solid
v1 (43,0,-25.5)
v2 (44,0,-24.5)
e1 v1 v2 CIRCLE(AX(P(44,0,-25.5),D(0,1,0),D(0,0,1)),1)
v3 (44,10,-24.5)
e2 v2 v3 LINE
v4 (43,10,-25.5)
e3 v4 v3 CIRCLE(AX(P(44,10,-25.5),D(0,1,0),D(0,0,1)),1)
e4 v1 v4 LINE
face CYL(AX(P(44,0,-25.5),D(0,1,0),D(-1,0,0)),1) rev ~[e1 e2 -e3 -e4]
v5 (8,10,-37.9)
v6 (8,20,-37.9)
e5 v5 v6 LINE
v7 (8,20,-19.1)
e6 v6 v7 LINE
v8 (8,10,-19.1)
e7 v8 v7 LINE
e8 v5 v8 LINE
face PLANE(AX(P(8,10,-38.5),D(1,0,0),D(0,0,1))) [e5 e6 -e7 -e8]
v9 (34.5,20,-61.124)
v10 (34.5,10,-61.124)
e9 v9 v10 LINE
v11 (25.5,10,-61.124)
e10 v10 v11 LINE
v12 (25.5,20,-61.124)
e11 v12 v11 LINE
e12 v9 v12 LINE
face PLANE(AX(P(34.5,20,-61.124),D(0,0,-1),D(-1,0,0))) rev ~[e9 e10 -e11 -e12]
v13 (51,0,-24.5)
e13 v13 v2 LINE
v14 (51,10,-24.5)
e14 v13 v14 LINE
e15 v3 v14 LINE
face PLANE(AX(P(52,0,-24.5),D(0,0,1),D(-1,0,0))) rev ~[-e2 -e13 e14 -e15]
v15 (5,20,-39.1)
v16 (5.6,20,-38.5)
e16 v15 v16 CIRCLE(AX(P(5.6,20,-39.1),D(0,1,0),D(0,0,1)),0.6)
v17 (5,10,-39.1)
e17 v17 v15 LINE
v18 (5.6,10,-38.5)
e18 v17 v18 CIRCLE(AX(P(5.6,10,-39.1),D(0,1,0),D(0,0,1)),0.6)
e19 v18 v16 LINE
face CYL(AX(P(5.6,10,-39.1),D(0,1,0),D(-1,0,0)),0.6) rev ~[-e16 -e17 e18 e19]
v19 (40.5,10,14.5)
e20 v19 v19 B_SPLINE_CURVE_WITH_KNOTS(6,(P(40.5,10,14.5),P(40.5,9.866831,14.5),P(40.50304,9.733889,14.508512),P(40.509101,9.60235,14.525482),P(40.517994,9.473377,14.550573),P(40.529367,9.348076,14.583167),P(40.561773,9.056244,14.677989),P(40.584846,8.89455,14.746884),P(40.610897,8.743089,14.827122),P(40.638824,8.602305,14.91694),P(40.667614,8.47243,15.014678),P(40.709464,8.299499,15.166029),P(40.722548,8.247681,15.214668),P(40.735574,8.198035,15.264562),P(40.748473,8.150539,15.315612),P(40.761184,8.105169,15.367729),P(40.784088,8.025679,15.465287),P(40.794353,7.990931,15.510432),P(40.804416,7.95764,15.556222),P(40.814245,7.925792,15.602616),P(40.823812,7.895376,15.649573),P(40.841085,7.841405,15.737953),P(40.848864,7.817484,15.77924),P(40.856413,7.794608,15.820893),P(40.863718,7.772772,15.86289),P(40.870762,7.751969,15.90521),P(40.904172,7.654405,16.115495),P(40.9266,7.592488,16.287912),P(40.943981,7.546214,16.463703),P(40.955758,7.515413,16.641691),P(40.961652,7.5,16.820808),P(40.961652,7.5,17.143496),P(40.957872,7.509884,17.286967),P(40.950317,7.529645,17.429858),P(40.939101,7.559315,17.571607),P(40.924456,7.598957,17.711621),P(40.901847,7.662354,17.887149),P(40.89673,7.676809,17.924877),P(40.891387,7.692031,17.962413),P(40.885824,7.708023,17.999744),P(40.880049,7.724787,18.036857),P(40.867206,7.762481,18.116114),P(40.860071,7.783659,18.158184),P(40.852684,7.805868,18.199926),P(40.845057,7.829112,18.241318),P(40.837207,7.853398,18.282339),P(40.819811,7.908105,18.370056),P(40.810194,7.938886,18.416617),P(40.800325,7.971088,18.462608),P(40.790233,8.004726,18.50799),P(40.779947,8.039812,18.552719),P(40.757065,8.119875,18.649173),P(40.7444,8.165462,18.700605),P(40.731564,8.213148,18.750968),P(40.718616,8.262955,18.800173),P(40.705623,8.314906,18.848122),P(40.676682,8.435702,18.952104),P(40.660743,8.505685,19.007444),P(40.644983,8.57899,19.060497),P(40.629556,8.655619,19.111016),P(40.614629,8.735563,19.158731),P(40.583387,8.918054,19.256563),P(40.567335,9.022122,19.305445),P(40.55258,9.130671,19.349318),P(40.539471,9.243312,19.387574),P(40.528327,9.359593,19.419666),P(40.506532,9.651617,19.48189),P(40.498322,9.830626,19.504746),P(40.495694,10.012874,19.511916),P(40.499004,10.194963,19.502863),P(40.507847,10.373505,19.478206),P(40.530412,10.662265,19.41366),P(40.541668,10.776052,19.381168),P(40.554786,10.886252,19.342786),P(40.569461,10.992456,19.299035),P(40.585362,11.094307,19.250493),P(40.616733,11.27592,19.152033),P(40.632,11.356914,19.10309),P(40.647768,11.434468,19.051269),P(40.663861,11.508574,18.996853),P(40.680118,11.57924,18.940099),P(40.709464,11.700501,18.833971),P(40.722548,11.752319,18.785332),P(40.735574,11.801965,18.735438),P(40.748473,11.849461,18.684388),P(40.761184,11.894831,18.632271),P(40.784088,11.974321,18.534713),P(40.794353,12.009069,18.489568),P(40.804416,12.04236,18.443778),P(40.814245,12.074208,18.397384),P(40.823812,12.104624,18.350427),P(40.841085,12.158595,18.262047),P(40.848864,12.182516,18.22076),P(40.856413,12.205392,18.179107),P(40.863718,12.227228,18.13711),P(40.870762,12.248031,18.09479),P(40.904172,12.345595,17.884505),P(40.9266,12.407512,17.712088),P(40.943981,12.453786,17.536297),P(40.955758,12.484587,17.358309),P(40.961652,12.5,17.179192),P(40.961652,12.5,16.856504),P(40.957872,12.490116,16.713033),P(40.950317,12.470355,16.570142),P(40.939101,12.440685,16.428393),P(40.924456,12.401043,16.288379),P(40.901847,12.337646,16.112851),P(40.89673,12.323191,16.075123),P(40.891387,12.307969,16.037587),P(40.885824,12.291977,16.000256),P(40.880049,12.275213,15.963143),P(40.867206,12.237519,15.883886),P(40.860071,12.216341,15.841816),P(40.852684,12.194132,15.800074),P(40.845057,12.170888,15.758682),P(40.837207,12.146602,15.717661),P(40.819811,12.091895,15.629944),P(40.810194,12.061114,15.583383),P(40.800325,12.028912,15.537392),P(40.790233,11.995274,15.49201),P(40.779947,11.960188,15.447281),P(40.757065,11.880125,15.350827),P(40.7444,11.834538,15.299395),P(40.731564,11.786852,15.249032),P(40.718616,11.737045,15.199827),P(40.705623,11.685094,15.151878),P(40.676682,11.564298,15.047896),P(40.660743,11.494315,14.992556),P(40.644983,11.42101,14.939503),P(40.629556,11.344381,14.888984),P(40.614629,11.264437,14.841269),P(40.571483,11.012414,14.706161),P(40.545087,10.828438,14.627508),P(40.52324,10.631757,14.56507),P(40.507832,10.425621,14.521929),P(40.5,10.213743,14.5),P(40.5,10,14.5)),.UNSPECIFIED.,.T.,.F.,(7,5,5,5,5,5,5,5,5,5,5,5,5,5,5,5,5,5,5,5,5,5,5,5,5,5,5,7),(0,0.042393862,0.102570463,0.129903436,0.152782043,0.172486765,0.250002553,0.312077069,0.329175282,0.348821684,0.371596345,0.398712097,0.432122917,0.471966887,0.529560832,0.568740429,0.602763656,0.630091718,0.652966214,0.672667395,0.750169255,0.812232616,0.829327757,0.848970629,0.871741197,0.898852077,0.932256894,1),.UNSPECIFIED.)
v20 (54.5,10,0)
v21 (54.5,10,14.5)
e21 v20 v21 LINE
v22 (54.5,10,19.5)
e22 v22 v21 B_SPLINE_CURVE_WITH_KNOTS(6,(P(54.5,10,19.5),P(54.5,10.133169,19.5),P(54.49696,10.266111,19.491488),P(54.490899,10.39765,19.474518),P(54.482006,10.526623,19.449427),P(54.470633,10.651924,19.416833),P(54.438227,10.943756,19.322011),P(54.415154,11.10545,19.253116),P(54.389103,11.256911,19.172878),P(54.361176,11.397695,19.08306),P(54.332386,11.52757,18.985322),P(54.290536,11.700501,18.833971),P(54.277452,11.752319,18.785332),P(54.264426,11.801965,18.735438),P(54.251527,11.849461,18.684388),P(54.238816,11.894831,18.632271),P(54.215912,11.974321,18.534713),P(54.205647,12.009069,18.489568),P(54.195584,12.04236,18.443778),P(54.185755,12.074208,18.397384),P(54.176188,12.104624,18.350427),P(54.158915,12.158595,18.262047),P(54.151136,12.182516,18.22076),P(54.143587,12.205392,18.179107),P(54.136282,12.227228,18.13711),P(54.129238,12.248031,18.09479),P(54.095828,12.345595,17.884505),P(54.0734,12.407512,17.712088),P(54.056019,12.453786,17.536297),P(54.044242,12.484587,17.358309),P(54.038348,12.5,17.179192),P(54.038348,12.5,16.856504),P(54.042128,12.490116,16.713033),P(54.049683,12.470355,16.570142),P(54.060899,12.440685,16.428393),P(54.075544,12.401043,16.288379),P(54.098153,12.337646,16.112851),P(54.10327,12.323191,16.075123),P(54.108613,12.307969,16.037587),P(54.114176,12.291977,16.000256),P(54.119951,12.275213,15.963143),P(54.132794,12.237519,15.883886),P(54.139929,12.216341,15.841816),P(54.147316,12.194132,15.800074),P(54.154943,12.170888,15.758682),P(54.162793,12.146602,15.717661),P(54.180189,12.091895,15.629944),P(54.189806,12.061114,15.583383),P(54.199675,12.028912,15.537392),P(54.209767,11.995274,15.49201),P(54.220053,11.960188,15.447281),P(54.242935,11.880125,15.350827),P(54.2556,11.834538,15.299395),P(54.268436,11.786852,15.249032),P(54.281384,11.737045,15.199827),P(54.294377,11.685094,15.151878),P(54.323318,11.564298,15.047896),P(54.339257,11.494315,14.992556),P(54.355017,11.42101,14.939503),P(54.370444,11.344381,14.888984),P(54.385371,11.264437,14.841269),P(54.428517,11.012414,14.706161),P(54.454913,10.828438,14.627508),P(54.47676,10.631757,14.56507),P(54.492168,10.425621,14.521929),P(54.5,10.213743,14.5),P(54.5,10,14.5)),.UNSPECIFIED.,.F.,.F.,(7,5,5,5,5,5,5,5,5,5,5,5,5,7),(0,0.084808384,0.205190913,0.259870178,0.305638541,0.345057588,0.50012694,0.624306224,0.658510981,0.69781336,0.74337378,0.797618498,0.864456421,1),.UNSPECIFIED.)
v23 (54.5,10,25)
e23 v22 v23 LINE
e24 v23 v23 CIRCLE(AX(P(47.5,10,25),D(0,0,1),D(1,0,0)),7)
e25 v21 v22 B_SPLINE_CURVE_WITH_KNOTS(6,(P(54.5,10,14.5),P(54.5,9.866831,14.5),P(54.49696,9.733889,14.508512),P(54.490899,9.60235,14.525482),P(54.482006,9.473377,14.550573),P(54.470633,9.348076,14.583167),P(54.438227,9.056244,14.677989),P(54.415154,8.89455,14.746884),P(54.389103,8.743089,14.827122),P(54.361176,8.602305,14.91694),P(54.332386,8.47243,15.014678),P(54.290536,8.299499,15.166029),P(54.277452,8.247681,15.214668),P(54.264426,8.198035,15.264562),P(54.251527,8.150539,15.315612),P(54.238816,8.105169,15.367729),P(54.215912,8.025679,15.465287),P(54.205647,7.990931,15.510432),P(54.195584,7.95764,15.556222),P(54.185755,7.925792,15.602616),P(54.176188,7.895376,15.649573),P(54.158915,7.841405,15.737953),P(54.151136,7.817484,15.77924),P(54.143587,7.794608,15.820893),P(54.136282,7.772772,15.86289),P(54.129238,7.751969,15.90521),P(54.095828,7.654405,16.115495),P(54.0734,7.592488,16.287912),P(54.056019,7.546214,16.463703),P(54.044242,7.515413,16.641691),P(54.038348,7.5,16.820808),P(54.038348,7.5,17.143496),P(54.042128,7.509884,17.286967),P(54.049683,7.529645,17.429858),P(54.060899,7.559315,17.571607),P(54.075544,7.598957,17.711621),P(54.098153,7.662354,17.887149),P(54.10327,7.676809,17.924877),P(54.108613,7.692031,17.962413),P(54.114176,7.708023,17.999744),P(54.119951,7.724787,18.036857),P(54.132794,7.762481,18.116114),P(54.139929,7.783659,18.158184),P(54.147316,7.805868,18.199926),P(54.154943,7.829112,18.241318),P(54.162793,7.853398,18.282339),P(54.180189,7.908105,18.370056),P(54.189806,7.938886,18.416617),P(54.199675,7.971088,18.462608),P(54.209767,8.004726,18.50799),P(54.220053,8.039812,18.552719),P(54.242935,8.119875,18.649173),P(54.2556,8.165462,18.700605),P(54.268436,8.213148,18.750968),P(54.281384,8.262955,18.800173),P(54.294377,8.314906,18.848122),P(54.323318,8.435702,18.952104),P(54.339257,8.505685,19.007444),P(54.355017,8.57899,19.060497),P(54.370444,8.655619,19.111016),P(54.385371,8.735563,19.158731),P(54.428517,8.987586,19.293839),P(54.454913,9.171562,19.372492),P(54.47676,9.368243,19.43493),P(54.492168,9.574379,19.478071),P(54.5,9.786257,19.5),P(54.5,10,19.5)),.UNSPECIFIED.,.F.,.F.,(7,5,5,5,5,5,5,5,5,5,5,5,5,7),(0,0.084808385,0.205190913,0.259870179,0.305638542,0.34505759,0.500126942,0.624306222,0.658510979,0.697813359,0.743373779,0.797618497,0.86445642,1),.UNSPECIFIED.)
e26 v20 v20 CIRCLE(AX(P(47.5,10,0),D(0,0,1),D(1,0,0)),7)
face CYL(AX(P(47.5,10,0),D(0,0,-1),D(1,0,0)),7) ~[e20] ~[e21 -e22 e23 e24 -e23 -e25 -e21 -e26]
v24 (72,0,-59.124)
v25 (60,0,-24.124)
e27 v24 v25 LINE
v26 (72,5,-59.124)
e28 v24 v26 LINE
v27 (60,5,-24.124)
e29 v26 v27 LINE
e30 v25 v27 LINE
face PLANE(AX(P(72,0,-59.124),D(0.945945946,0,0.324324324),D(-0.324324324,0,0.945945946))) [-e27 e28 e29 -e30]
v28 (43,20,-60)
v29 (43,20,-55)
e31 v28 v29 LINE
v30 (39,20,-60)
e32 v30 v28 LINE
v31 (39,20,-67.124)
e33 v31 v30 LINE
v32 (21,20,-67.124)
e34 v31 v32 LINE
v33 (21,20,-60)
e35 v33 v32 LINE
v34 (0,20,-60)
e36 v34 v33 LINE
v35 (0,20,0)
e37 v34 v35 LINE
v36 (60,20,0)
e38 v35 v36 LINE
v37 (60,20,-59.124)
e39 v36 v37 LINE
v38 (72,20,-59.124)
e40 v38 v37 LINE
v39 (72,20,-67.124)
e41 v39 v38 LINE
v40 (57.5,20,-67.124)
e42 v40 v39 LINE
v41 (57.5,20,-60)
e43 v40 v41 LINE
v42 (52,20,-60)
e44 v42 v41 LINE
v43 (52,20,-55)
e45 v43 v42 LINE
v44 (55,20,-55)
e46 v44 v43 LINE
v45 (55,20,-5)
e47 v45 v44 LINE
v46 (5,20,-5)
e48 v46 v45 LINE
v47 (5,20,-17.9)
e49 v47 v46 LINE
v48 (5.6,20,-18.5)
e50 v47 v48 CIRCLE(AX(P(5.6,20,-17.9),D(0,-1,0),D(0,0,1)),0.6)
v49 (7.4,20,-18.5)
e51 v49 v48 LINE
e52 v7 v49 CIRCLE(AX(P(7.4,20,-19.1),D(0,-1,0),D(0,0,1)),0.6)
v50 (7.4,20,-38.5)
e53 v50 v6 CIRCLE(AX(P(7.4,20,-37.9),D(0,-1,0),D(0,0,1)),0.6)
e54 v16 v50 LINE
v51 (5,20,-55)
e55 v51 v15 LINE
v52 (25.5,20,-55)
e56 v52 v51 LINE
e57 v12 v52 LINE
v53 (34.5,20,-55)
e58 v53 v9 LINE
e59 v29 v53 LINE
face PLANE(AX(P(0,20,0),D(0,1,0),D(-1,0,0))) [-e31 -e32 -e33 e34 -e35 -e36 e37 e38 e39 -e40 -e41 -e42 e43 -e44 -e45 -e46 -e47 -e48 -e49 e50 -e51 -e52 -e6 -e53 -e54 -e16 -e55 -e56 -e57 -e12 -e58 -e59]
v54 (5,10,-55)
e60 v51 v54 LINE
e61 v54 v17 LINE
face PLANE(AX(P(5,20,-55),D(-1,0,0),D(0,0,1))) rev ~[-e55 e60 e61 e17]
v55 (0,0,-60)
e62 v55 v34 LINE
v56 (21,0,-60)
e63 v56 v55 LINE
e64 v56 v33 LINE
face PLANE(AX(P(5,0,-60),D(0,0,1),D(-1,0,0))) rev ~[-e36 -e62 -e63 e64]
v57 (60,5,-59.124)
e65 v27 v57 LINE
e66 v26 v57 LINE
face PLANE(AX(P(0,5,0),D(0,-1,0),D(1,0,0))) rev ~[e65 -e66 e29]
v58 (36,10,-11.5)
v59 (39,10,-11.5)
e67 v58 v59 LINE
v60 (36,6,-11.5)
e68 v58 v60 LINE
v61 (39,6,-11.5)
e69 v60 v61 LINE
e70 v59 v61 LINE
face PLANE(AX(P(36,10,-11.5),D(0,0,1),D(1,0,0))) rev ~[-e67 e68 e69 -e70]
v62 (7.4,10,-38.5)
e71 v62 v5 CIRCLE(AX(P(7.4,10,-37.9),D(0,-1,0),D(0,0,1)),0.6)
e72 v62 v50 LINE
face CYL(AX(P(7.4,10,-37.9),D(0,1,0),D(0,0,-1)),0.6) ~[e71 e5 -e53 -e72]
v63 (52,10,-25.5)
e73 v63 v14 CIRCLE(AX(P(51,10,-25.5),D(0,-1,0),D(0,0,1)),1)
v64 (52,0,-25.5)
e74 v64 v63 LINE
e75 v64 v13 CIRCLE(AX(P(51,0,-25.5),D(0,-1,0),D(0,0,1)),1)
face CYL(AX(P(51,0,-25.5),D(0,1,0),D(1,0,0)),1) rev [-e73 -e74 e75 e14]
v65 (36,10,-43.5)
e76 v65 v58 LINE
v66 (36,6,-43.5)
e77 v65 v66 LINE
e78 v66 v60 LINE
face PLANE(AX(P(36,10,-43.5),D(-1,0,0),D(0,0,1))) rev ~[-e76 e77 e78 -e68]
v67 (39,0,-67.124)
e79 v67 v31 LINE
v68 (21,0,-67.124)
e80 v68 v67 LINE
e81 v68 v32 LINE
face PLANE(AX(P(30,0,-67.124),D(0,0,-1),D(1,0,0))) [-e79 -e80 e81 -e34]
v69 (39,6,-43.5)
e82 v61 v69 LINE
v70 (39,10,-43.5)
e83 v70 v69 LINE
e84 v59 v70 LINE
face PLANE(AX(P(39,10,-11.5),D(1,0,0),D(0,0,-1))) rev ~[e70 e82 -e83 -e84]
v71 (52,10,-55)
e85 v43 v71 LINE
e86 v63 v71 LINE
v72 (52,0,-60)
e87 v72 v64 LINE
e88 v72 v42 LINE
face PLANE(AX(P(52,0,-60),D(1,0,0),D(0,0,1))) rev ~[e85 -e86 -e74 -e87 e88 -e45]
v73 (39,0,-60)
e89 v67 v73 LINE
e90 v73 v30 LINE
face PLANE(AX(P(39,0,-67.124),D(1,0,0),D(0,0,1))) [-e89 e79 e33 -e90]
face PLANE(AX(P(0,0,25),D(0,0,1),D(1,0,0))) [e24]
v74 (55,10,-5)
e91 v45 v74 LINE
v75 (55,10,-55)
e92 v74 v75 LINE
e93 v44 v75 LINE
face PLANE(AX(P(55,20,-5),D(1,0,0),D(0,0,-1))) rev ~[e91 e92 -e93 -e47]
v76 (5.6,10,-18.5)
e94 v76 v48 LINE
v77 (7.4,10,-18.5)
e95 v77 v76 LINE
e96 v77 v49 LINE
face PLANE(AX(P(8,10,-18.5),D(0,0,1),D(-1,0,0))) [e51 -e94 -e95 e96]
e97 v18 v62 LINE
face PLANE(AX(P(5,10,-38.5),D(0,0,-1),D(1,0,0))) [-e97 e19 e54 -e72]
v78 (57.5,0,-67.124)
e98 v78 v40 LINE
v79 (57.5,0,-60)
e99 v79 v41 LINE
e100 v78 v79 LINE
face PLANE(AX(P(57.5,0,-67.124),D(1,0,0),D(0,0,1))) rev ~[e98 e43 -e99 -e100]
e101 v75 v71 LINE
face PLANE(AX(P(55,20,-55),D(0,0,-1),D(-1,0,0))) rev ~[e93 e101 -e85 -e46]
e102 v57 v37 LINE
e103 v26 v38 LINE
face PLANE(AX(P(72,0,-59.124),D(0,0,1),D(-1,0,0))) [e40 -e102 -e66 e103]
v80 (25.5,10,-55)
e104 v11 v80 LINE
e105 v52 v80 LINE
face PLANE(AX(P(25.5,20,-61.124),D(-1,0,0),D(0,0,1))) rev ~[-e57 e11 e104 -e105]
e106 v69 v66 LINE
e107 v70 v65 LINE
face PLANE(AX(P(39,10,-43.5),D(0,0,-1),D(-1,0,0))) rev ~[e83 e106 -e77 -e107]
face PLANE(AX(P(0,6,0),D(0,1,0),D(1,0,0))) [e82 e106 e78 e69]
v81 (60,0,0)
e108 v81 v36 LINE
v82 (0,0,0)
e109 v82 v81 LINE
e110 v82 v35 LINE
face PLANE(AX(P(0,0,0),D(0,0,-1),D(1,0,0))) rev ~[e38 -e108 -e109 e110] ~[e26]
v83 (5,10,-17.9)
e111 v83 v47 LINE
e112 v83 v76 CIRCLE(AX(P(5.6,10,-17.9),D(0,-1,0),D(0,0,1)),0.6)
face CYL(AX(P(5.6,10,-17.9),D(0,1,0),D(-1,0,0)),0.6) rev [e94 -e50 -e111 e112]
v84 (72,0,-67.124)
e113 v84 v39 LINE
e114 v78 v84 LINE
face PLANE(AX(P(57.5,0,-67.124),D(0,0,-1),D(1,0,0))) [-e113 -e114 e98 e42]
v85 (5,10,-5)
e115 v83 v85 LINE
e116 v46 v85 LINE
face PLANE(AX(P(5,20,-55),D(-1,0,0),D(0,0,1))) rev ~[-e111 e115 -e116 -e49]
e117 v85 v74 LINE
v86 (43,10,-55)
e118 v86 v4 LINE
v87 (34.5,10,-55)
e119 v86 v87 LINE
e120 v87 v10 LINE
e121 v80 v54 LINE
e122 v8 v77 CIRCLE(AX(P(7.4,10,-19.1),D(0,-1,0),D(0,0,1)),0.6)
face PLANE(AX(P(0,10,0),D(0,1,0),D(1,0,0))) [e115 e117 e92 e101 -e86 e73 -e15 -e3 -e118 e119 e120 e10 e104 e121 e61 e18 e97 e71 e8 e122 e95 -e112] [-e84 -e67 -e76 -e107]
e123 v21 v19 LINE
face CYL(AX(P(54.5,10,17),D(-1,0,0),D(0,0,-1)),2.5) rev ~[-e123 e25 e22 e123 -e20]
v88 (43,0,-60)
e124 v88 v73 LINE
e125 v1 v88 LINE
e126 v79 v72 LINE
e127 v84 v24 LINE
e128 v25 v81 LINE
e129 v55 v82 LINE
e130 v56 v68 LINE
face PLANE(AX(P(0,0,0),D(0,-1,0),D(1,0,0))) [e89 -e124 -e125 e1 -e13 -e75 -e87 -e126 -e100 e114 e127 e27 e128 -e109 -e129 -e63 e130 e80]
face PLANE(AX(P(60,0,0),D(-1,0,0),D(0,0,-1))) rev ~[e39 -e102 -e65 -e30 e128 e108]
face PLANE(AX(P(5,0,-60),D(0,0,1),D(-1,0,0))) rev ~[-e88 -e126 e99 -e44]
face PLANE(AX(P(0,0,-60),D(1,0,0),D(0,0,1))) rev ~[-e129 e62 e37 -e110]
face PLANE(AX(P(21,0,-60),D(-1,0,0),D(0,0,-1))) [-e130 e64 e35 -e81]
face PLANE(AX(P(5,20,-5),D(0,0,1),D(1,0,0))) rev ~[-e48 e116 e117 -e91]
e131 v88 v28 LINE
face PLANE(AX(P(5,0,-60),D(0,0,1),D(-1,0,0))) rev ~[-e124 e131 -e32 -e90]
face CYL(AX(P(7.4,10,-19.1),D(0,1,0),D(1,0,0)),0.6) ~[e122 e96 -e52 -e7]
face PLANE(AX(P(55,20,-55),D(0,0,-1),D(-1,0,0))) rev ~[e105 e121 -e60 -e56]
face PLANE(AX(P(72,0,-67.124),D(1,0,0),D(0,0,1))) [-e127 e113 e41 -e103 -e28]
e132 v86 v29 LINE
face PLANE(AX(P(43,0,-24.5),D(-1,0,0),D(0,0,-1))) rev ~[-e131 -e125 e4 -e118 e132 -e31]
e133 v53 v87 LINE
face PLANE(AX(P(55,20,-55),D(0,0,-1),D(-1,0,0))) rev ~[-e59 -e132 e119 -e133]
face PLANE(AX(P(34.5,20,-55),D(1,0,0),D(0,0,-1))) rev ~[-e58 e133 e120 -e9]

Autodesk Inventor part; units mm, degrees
ref_plane "XZ Plane" through (0, 0, 0) normal (0, 1, 0) x (-1, 0, 0)
ref_plane "XY Plane" through (0, 0, 0) normal (0, 0, 1) x (1, 0, 0)
sketch "Sketch1" plane through (0, 0, 0) normal (0, 1, 0) x (-1, 0, 0)
  line L0 (0, 0) -> (0, -60)
  line L1 (0, 0) -> (-50, 0)
  line L2 (-5, -60) -> (-5, -5)
  line L3 (-5, -5) -> (-50, -5)
  line L4 (-47.5, 69.0442) -> (-47.5, -71.5611) construction
  line L5 (-50, 0) -> (-55, 0)
  line L6 (-55, 0) -> (-55, -50)
  line L7 (-55, -50) -> (-75, -50)
  line L8 (-75, -50) -> (-75, -60)
  line L9 (-75, -60) -> (-45, -60)
  line L10 (-5, -60) -> (-21, -60)
  circle A0 centre (-47.5, -73.124) radius 8.5
  line L11 (16.7028, -43.5) -> (-102.7124, -43.5) construction
  line L12 (-45, -26.5) -> (-50, -26.5)
  line L13 (-50, -26.5) -> (-50, -60.5)
  line L14 (-50, -60.5) -> (-45, -60.5)
  line L15 (-45, -60.5) -> (-45, -26.5)
  line L16 (-45, -43.5) -> (-50, -43.5) construction
  line L17 (-21, -60) -> (-21, -67.124)
  line L18 (-21, -67.124) -> (-30, -67.124)
  line L19 (-39, -67.124) -> (-39, -60)
  line L20 (-39, -60) -> (-45, -60) construction
  line L21 (-15.952, -100.4576) -> (-35.952, -100.4576)
  line L22 (-35.952, -108.4576) -> (-15.952, -108.4576)
  line L23 (-15.952, -108.4576) -> (-15.952, -100.4576)
  line L24 (-15.952, -73.124) -> (-76.4965, -73.124) construction
  line L25 (-30, -57.9879) -> (-30, -83.8601) construction
  line L26 (-25.952, -100.4576) -> (-25.952, -108.4576) construction
  line L27 (-45, -31) -> (-50, -31) construction
  line L28 (-50, -31) -> (-50, -56)
  line L29 (-50, -56) -> (-45, -56) construction
  line L30 (-45, -56) -> (-45, -31)
  line L31 (-45, -56) -> (-50, -56)
  line L32 (-45, -65.1391) -> (-45, -56)
  line L33 (-45, -56) -> (-50, -56)
  line L34 (-50, -56) -> (-50, -65)
  line L35 (-50, -65) -> (-45, -65)
  line L36 (-45, -65) -> (-45, -56)
  arc A1 (-35.952, -108.4576) -> (-35.952, -100.4576) centre (-43.452, -104.4576) ccw
  line L37 (-30, -67.124) -> (-39, -67.124)
  point P0 (-47.5, -43.5)
  point P1 (-30, -73.124)
  dimension "d9" = 17
  dimension "d0" = 60
  dimension "d1" = 50
  dimension "d2" = 5
  dimension "d3" = 47.5
  dimension "d4" = 5
  dimension "d5" = 50
  dimension "d6" = 20
  dimension "d7" = 30
  dimension "d10" = 38.5
  dimension "d11" = 5
  dimension "d12" = 34
  dimension "d13" = 20
  dimension "d14" = 8
  dimension "d57" = 25
  dimension "d58" = 4.5
  dimension "d59" = 5
  dimension "d60" = 9
  dimension "d61" = 17
  dimension "d62" = 9
  dimension "d63" = 9
  dimension "d64" = 9
  dimension "d65" = 6
sketch "Sketch2" plane through (0, 0, 0) normal (0, 1, 0) x (-1, 0, 0)
  line L0 (0, 0) -> (-60, 0)
  line L1 (-60, 0) -> (-60, -55)
  line L2 (-57.5, -60) -> (0, -60)
  line L3 (0, -60) -> (0, 0)
  line L4 (-5, -60) -> (-21, -60) projected
  line L5 (-30, -67.124) -> (-39, -67.124) projected
  line L6 (-57.5, -67.124) -> (-72, -67.124)
  line L7 (-72, -67.124) -> (-72, -59.124)
  line L8 (-72, -59.124) -> (-60, -59.124)
  line L9 (-60, -59.124) -> (-60, 0)
  line L10 (-57.5, -67.124) -> (-57.5, -60)
  point P0 (-60, -67.124)
  dimension "d16" = 57.5
  dimension "d73" = 8
  dimension "d76" = 12
  dimension "d77" = 60
extrude "Extrusion1" add sketch "Sketch2" along normal blind 20
sketch "Sketch3" plane through (0, 20, 0) normal (0, 1, 0) x (1, 0, 0)
  line L0 (5, 5) -> (55, 5)
  line L1 (55, 5) -> (55, 55)
  line L2 (55, 55) -> (5, 55)
  line L3 (5, 55) -> (5, 5)
  line L4 (0, 0) -> (60, 0) projected
  line L5 (0, 60) -> (0, 0) projected
  dimension "d23" = 5
  dimension "d24" = 5
  dimension "d25" = 50
  dimension "d26" = 50
extrude "Extrusion2" cut sketch "Sketch3" against normal blind 10
sketch "Sketch5" plane through (0, 0, 0) normal (0, -1, 0) x (1, 0, 0)
  line L0 (57.5, -60) -> (0, -60) projected
  line L1 (45, -60.5) -> (45, -26.5) projected
  line L2 (5, -60) -> (5, -5) projected
  line L3 (50, -26.5) -> (50, -60.5) projected
  line L4 (45, -26.5) -> (50, -26.5) projected
  line L5 (50, -60.5) -> (45, -60.5) projected
  line L6 (52, -60) -> (52, -24.5)
  line L7 (52, -24.5) -> (43, -24.5)
  line L8 (43, -24.5) -> (43, -60)
  line L9 (52, -60.5) -> (52, -60)
  line L10 (52, -60) -> (43, -60)
  point P0 (80, -60)
  dimension "d30" = 40
  dimension "d31" = 2
extrude "Extrusion3" cut sketch "Sketch5" against normal through all contours L0 L3 L4 L1 L8 L7 L6 | L0 L1 L4 L3
sketch "Sketch6" plane through (0, 0, 0) normal (0, 0, 1) x (1, 0, 0)
  line L0 (0, 20) -> (60, 20) projected
  line L1 (47.5, 0) -> (47.5, 20) construction
  circle A0 centre (47.5, 10) radius 7
  point P0 (47.5, 0)
  dimension "d34" = 14
extrude "Extrusion4" add sketch "Sketch6" along normal blind 25
ref_plane "Work Plane1" through (54.5, 10, 0) normal (1, 0, 0) x (0, 1, 0)
sketch "Sketch7" plane through (54.5, 10, 0) normal (1, 0, 0) x (0, 1, 0)
  line L0 (7, 25) -> (-7, 25) projected
  line L1 (0, 25) -> (0, 0) construction
  point P0 (-10, 0)
  point P1 (0, 17)
  dimension "d37" = 8
hole "Hole1" at (54.5, 10, 17) direction (-1, 0, 0) diameter 5 end through all
sketch "Sketch8" plane through (0, 10, 0) normal (0, 1, 0) x (1, 0, 0)
  line L0 (36, 11.5) -> (39, 11.5)
  line L1 (39, 11.5) -> (39, 43.5)
  line L2 (39, 43.5) -> (36, 43.5)
  line L3 (36, 43.5) -> (36, 11.5)
  line L4 (45, 60.5) -> (45, 26.5) projected
  line L5 (-16.7028, 43.5) -> (102.7124, 43.5) construction
  point P0 (0, 0)
  point P1 (47.5, 43.5)
  dimension "d45" = 6
  dimension "d46" = 32
  dimension "d47" = 3
extrude "Extrusion5" cut sketch "Sketch8" against normal blind 4
sketch "Sketch9" plane through (0, 10, 0) normal (0, 1, 0) x (1, 0, 0)
  line L0 (36, 43.5) -> (39, 43.5) projected
  line L1 (5, 5) -> (5, 55) projected
  line L2 (8, 18.5) -> (5, 18.5)
  line L3 (5, 18.5) -> (5, 38.5)
  line L4 (5, 38.5) -> (8, 38.5)
  line L5 (8, 38.5) -> (8, 18.5)
  point P0 (0, 0)
  dimension "d50" = 3
  dimension "d51" = 5
  dimension "d52" = 20
extrude "Extrusion6" add sketch "Sketch9" along normal up to surface (10 mm away)
fillet "Fillet1" radius 0.6 4 edges at (5, 15, -38.5) (8, 15, -38.5) (8, 15, -18.5) (5, 15, -18.5)
fillet "Fillet2" radius 1 2 edges at (43, 5, -24.5) (52, 5, -24.5)
sketch "Sketch10" plane through (0, 0, 0) normal (0, -1, 0) x (1, 0, 0)
  line L0 (43, -60) -> (0, -60) projected
  line L1 (39, -67.124) -> (39, -60) projected
  line L2 (30, -67.124) -> (39, -67.124) projected
  line L3 (21, -60) -> (21, -67.124) projected
  line L4 (21, -67.124) -> (30, -67.124) projected
  line L5 (39, -60) -> (39, -67.124)
  line L6 (21, -67.124) -> (39, -67.124)
  line L7 (21, -67.124) -> (21, -60)
  point P0 (80, -60)
extrude "Extrusion7" add sketch "Sketch10" against normal up to surface (20 mm away)
sketch "Sketch11" plane through (0, 20, 0) normal (0, 1, 0) x (1, 0, 0)
  line L0 (39, 67.124) -> (39, 60) projected
  line L1 (21, 67.124) -> (39, 67.124) projected
  line L2 (21, 60) -> (21, 67.124) projected
  line L3 (5, 55) -> (55, 55) projected
  line L4 (25.5, 55) -> (34.5, 55)
  line L5 (34.5, 55) -> (34.5, 61.124)
  line L6 (34.5, 61.124) -> (25.5, 61.124)
  line L7 (25.5, 61.124) -> (25.5, 55)
  dimension "d68" = 6
  dimension "d69" = 4.5
  dimension "d70" = 4.5
extrude "Extrusion8" cut sketch "Sketch11" against normal up to surface (10 mm away)
sketch "Sketch12" plane through (0, 20, 0) normal (0, 1, 0) x (1, 0, 0)
  line L0 (34.5, 61.124) -> (34.5, 55) projected
  line L1 (34.5, 55) -> (43, 55) projected
  line L2 (43, 55) -> (43, 60) projected
  line L3 (43, 60) -> (39, 60) projected
  line L4 (39, 67.124) -> (39, 60) projected
  line L5 (21, 67.124) -> (39, 67.124) projected
  line L6 (21, 60) -> (21, 67.124) projected
  line L7 (21, 60) -> (0, 60) projected
  line L8 (0, 60) -> (0, 0) projected
  line L9 (0, 0) -> (60, 0) projected
  line L10 (60, 0) -> (60, 59.124) projected
  line L11 (60, 59.124) -> (72, 59.124) projected
  line L12 (72, 59.124) -> (72, 67.124) projected
  line L13 (72, 67.124) -> (57.5, 67.124) projected
  line L14 (57.5, 67.124) -> (57.5, 60) projected
  line L15 (57.5, 60) -> (52, 60) projected
  line L16 (52, 60) -> (52, 55) projected
  line L17 (52, 55) -> (55, 55) projected
  line L18 (55, 55) -> (55, 5) projected
  line L19 (55, 5) -> (5, 5) projected
  line L20 (5, 5) -> (5, 17.9) projected
  arc A0 (5.6, 18.5) -> (5, 17.9) centre (5.6, 17.9) ccw projected
  line L21 (7.4, 18.5) -> (5.6, 18.5) projected
  arc A1 (7.4, 18.5) -> (8, 19.1) centre (7.4, 19.1) ccw projected
  line L22 (8, 37.9) -> (8, 19.1) projected
  arc A2 (8, 37.9) -> (7.4, 38.5) centre (7.4, 37.9) ccw projected
  line L23 (5.6, 38.5) -> (7.4, 38.5) projected
  arc A3 (5, 39.1) -> (5.6, 38.5) centre (5.6, 39.1) ccw projected
  line L24 (5, 39.1) -> (5, 55) projected
  line L25 (5, 55) -> (25.5, 55) projected
  line L26 (25.5, 55) -> (25.5, 61.124) projected
  line L27 (25.5, 61.124) -> (34.5, 61.124) projected
  line L28 (65, 73.0401) -> (65, 59.124)
  circle A4 centre (47.5, 73.124) radius 8.5 projected
  point P0 (60, 52.124)
  point P1 (60, 57.124)
  point P2 (62, 59.124)
  dimension "d74" = 9
sketch "Sketch13" plane through (0, 0, 0) normal (0, -1, 0) x (1, 0, 0)
  line L0 (60, 0) -> (60, -59.124) projected
  line L1 (72, -59.124) -> (60, -24.124)
  line L2 (60, 0) -> (60, -59.124) projected
  line L3 (60, -59.124) -> (60, -24.124)
  line L4 (72, -59.124) -> (60, -59.124)
  dimension "d78" = 35
extrude "Extrusion9" add sketch "Sketch13" against normal blind 5
equation "\"d70\" = d69"
properties part number "Housing"
